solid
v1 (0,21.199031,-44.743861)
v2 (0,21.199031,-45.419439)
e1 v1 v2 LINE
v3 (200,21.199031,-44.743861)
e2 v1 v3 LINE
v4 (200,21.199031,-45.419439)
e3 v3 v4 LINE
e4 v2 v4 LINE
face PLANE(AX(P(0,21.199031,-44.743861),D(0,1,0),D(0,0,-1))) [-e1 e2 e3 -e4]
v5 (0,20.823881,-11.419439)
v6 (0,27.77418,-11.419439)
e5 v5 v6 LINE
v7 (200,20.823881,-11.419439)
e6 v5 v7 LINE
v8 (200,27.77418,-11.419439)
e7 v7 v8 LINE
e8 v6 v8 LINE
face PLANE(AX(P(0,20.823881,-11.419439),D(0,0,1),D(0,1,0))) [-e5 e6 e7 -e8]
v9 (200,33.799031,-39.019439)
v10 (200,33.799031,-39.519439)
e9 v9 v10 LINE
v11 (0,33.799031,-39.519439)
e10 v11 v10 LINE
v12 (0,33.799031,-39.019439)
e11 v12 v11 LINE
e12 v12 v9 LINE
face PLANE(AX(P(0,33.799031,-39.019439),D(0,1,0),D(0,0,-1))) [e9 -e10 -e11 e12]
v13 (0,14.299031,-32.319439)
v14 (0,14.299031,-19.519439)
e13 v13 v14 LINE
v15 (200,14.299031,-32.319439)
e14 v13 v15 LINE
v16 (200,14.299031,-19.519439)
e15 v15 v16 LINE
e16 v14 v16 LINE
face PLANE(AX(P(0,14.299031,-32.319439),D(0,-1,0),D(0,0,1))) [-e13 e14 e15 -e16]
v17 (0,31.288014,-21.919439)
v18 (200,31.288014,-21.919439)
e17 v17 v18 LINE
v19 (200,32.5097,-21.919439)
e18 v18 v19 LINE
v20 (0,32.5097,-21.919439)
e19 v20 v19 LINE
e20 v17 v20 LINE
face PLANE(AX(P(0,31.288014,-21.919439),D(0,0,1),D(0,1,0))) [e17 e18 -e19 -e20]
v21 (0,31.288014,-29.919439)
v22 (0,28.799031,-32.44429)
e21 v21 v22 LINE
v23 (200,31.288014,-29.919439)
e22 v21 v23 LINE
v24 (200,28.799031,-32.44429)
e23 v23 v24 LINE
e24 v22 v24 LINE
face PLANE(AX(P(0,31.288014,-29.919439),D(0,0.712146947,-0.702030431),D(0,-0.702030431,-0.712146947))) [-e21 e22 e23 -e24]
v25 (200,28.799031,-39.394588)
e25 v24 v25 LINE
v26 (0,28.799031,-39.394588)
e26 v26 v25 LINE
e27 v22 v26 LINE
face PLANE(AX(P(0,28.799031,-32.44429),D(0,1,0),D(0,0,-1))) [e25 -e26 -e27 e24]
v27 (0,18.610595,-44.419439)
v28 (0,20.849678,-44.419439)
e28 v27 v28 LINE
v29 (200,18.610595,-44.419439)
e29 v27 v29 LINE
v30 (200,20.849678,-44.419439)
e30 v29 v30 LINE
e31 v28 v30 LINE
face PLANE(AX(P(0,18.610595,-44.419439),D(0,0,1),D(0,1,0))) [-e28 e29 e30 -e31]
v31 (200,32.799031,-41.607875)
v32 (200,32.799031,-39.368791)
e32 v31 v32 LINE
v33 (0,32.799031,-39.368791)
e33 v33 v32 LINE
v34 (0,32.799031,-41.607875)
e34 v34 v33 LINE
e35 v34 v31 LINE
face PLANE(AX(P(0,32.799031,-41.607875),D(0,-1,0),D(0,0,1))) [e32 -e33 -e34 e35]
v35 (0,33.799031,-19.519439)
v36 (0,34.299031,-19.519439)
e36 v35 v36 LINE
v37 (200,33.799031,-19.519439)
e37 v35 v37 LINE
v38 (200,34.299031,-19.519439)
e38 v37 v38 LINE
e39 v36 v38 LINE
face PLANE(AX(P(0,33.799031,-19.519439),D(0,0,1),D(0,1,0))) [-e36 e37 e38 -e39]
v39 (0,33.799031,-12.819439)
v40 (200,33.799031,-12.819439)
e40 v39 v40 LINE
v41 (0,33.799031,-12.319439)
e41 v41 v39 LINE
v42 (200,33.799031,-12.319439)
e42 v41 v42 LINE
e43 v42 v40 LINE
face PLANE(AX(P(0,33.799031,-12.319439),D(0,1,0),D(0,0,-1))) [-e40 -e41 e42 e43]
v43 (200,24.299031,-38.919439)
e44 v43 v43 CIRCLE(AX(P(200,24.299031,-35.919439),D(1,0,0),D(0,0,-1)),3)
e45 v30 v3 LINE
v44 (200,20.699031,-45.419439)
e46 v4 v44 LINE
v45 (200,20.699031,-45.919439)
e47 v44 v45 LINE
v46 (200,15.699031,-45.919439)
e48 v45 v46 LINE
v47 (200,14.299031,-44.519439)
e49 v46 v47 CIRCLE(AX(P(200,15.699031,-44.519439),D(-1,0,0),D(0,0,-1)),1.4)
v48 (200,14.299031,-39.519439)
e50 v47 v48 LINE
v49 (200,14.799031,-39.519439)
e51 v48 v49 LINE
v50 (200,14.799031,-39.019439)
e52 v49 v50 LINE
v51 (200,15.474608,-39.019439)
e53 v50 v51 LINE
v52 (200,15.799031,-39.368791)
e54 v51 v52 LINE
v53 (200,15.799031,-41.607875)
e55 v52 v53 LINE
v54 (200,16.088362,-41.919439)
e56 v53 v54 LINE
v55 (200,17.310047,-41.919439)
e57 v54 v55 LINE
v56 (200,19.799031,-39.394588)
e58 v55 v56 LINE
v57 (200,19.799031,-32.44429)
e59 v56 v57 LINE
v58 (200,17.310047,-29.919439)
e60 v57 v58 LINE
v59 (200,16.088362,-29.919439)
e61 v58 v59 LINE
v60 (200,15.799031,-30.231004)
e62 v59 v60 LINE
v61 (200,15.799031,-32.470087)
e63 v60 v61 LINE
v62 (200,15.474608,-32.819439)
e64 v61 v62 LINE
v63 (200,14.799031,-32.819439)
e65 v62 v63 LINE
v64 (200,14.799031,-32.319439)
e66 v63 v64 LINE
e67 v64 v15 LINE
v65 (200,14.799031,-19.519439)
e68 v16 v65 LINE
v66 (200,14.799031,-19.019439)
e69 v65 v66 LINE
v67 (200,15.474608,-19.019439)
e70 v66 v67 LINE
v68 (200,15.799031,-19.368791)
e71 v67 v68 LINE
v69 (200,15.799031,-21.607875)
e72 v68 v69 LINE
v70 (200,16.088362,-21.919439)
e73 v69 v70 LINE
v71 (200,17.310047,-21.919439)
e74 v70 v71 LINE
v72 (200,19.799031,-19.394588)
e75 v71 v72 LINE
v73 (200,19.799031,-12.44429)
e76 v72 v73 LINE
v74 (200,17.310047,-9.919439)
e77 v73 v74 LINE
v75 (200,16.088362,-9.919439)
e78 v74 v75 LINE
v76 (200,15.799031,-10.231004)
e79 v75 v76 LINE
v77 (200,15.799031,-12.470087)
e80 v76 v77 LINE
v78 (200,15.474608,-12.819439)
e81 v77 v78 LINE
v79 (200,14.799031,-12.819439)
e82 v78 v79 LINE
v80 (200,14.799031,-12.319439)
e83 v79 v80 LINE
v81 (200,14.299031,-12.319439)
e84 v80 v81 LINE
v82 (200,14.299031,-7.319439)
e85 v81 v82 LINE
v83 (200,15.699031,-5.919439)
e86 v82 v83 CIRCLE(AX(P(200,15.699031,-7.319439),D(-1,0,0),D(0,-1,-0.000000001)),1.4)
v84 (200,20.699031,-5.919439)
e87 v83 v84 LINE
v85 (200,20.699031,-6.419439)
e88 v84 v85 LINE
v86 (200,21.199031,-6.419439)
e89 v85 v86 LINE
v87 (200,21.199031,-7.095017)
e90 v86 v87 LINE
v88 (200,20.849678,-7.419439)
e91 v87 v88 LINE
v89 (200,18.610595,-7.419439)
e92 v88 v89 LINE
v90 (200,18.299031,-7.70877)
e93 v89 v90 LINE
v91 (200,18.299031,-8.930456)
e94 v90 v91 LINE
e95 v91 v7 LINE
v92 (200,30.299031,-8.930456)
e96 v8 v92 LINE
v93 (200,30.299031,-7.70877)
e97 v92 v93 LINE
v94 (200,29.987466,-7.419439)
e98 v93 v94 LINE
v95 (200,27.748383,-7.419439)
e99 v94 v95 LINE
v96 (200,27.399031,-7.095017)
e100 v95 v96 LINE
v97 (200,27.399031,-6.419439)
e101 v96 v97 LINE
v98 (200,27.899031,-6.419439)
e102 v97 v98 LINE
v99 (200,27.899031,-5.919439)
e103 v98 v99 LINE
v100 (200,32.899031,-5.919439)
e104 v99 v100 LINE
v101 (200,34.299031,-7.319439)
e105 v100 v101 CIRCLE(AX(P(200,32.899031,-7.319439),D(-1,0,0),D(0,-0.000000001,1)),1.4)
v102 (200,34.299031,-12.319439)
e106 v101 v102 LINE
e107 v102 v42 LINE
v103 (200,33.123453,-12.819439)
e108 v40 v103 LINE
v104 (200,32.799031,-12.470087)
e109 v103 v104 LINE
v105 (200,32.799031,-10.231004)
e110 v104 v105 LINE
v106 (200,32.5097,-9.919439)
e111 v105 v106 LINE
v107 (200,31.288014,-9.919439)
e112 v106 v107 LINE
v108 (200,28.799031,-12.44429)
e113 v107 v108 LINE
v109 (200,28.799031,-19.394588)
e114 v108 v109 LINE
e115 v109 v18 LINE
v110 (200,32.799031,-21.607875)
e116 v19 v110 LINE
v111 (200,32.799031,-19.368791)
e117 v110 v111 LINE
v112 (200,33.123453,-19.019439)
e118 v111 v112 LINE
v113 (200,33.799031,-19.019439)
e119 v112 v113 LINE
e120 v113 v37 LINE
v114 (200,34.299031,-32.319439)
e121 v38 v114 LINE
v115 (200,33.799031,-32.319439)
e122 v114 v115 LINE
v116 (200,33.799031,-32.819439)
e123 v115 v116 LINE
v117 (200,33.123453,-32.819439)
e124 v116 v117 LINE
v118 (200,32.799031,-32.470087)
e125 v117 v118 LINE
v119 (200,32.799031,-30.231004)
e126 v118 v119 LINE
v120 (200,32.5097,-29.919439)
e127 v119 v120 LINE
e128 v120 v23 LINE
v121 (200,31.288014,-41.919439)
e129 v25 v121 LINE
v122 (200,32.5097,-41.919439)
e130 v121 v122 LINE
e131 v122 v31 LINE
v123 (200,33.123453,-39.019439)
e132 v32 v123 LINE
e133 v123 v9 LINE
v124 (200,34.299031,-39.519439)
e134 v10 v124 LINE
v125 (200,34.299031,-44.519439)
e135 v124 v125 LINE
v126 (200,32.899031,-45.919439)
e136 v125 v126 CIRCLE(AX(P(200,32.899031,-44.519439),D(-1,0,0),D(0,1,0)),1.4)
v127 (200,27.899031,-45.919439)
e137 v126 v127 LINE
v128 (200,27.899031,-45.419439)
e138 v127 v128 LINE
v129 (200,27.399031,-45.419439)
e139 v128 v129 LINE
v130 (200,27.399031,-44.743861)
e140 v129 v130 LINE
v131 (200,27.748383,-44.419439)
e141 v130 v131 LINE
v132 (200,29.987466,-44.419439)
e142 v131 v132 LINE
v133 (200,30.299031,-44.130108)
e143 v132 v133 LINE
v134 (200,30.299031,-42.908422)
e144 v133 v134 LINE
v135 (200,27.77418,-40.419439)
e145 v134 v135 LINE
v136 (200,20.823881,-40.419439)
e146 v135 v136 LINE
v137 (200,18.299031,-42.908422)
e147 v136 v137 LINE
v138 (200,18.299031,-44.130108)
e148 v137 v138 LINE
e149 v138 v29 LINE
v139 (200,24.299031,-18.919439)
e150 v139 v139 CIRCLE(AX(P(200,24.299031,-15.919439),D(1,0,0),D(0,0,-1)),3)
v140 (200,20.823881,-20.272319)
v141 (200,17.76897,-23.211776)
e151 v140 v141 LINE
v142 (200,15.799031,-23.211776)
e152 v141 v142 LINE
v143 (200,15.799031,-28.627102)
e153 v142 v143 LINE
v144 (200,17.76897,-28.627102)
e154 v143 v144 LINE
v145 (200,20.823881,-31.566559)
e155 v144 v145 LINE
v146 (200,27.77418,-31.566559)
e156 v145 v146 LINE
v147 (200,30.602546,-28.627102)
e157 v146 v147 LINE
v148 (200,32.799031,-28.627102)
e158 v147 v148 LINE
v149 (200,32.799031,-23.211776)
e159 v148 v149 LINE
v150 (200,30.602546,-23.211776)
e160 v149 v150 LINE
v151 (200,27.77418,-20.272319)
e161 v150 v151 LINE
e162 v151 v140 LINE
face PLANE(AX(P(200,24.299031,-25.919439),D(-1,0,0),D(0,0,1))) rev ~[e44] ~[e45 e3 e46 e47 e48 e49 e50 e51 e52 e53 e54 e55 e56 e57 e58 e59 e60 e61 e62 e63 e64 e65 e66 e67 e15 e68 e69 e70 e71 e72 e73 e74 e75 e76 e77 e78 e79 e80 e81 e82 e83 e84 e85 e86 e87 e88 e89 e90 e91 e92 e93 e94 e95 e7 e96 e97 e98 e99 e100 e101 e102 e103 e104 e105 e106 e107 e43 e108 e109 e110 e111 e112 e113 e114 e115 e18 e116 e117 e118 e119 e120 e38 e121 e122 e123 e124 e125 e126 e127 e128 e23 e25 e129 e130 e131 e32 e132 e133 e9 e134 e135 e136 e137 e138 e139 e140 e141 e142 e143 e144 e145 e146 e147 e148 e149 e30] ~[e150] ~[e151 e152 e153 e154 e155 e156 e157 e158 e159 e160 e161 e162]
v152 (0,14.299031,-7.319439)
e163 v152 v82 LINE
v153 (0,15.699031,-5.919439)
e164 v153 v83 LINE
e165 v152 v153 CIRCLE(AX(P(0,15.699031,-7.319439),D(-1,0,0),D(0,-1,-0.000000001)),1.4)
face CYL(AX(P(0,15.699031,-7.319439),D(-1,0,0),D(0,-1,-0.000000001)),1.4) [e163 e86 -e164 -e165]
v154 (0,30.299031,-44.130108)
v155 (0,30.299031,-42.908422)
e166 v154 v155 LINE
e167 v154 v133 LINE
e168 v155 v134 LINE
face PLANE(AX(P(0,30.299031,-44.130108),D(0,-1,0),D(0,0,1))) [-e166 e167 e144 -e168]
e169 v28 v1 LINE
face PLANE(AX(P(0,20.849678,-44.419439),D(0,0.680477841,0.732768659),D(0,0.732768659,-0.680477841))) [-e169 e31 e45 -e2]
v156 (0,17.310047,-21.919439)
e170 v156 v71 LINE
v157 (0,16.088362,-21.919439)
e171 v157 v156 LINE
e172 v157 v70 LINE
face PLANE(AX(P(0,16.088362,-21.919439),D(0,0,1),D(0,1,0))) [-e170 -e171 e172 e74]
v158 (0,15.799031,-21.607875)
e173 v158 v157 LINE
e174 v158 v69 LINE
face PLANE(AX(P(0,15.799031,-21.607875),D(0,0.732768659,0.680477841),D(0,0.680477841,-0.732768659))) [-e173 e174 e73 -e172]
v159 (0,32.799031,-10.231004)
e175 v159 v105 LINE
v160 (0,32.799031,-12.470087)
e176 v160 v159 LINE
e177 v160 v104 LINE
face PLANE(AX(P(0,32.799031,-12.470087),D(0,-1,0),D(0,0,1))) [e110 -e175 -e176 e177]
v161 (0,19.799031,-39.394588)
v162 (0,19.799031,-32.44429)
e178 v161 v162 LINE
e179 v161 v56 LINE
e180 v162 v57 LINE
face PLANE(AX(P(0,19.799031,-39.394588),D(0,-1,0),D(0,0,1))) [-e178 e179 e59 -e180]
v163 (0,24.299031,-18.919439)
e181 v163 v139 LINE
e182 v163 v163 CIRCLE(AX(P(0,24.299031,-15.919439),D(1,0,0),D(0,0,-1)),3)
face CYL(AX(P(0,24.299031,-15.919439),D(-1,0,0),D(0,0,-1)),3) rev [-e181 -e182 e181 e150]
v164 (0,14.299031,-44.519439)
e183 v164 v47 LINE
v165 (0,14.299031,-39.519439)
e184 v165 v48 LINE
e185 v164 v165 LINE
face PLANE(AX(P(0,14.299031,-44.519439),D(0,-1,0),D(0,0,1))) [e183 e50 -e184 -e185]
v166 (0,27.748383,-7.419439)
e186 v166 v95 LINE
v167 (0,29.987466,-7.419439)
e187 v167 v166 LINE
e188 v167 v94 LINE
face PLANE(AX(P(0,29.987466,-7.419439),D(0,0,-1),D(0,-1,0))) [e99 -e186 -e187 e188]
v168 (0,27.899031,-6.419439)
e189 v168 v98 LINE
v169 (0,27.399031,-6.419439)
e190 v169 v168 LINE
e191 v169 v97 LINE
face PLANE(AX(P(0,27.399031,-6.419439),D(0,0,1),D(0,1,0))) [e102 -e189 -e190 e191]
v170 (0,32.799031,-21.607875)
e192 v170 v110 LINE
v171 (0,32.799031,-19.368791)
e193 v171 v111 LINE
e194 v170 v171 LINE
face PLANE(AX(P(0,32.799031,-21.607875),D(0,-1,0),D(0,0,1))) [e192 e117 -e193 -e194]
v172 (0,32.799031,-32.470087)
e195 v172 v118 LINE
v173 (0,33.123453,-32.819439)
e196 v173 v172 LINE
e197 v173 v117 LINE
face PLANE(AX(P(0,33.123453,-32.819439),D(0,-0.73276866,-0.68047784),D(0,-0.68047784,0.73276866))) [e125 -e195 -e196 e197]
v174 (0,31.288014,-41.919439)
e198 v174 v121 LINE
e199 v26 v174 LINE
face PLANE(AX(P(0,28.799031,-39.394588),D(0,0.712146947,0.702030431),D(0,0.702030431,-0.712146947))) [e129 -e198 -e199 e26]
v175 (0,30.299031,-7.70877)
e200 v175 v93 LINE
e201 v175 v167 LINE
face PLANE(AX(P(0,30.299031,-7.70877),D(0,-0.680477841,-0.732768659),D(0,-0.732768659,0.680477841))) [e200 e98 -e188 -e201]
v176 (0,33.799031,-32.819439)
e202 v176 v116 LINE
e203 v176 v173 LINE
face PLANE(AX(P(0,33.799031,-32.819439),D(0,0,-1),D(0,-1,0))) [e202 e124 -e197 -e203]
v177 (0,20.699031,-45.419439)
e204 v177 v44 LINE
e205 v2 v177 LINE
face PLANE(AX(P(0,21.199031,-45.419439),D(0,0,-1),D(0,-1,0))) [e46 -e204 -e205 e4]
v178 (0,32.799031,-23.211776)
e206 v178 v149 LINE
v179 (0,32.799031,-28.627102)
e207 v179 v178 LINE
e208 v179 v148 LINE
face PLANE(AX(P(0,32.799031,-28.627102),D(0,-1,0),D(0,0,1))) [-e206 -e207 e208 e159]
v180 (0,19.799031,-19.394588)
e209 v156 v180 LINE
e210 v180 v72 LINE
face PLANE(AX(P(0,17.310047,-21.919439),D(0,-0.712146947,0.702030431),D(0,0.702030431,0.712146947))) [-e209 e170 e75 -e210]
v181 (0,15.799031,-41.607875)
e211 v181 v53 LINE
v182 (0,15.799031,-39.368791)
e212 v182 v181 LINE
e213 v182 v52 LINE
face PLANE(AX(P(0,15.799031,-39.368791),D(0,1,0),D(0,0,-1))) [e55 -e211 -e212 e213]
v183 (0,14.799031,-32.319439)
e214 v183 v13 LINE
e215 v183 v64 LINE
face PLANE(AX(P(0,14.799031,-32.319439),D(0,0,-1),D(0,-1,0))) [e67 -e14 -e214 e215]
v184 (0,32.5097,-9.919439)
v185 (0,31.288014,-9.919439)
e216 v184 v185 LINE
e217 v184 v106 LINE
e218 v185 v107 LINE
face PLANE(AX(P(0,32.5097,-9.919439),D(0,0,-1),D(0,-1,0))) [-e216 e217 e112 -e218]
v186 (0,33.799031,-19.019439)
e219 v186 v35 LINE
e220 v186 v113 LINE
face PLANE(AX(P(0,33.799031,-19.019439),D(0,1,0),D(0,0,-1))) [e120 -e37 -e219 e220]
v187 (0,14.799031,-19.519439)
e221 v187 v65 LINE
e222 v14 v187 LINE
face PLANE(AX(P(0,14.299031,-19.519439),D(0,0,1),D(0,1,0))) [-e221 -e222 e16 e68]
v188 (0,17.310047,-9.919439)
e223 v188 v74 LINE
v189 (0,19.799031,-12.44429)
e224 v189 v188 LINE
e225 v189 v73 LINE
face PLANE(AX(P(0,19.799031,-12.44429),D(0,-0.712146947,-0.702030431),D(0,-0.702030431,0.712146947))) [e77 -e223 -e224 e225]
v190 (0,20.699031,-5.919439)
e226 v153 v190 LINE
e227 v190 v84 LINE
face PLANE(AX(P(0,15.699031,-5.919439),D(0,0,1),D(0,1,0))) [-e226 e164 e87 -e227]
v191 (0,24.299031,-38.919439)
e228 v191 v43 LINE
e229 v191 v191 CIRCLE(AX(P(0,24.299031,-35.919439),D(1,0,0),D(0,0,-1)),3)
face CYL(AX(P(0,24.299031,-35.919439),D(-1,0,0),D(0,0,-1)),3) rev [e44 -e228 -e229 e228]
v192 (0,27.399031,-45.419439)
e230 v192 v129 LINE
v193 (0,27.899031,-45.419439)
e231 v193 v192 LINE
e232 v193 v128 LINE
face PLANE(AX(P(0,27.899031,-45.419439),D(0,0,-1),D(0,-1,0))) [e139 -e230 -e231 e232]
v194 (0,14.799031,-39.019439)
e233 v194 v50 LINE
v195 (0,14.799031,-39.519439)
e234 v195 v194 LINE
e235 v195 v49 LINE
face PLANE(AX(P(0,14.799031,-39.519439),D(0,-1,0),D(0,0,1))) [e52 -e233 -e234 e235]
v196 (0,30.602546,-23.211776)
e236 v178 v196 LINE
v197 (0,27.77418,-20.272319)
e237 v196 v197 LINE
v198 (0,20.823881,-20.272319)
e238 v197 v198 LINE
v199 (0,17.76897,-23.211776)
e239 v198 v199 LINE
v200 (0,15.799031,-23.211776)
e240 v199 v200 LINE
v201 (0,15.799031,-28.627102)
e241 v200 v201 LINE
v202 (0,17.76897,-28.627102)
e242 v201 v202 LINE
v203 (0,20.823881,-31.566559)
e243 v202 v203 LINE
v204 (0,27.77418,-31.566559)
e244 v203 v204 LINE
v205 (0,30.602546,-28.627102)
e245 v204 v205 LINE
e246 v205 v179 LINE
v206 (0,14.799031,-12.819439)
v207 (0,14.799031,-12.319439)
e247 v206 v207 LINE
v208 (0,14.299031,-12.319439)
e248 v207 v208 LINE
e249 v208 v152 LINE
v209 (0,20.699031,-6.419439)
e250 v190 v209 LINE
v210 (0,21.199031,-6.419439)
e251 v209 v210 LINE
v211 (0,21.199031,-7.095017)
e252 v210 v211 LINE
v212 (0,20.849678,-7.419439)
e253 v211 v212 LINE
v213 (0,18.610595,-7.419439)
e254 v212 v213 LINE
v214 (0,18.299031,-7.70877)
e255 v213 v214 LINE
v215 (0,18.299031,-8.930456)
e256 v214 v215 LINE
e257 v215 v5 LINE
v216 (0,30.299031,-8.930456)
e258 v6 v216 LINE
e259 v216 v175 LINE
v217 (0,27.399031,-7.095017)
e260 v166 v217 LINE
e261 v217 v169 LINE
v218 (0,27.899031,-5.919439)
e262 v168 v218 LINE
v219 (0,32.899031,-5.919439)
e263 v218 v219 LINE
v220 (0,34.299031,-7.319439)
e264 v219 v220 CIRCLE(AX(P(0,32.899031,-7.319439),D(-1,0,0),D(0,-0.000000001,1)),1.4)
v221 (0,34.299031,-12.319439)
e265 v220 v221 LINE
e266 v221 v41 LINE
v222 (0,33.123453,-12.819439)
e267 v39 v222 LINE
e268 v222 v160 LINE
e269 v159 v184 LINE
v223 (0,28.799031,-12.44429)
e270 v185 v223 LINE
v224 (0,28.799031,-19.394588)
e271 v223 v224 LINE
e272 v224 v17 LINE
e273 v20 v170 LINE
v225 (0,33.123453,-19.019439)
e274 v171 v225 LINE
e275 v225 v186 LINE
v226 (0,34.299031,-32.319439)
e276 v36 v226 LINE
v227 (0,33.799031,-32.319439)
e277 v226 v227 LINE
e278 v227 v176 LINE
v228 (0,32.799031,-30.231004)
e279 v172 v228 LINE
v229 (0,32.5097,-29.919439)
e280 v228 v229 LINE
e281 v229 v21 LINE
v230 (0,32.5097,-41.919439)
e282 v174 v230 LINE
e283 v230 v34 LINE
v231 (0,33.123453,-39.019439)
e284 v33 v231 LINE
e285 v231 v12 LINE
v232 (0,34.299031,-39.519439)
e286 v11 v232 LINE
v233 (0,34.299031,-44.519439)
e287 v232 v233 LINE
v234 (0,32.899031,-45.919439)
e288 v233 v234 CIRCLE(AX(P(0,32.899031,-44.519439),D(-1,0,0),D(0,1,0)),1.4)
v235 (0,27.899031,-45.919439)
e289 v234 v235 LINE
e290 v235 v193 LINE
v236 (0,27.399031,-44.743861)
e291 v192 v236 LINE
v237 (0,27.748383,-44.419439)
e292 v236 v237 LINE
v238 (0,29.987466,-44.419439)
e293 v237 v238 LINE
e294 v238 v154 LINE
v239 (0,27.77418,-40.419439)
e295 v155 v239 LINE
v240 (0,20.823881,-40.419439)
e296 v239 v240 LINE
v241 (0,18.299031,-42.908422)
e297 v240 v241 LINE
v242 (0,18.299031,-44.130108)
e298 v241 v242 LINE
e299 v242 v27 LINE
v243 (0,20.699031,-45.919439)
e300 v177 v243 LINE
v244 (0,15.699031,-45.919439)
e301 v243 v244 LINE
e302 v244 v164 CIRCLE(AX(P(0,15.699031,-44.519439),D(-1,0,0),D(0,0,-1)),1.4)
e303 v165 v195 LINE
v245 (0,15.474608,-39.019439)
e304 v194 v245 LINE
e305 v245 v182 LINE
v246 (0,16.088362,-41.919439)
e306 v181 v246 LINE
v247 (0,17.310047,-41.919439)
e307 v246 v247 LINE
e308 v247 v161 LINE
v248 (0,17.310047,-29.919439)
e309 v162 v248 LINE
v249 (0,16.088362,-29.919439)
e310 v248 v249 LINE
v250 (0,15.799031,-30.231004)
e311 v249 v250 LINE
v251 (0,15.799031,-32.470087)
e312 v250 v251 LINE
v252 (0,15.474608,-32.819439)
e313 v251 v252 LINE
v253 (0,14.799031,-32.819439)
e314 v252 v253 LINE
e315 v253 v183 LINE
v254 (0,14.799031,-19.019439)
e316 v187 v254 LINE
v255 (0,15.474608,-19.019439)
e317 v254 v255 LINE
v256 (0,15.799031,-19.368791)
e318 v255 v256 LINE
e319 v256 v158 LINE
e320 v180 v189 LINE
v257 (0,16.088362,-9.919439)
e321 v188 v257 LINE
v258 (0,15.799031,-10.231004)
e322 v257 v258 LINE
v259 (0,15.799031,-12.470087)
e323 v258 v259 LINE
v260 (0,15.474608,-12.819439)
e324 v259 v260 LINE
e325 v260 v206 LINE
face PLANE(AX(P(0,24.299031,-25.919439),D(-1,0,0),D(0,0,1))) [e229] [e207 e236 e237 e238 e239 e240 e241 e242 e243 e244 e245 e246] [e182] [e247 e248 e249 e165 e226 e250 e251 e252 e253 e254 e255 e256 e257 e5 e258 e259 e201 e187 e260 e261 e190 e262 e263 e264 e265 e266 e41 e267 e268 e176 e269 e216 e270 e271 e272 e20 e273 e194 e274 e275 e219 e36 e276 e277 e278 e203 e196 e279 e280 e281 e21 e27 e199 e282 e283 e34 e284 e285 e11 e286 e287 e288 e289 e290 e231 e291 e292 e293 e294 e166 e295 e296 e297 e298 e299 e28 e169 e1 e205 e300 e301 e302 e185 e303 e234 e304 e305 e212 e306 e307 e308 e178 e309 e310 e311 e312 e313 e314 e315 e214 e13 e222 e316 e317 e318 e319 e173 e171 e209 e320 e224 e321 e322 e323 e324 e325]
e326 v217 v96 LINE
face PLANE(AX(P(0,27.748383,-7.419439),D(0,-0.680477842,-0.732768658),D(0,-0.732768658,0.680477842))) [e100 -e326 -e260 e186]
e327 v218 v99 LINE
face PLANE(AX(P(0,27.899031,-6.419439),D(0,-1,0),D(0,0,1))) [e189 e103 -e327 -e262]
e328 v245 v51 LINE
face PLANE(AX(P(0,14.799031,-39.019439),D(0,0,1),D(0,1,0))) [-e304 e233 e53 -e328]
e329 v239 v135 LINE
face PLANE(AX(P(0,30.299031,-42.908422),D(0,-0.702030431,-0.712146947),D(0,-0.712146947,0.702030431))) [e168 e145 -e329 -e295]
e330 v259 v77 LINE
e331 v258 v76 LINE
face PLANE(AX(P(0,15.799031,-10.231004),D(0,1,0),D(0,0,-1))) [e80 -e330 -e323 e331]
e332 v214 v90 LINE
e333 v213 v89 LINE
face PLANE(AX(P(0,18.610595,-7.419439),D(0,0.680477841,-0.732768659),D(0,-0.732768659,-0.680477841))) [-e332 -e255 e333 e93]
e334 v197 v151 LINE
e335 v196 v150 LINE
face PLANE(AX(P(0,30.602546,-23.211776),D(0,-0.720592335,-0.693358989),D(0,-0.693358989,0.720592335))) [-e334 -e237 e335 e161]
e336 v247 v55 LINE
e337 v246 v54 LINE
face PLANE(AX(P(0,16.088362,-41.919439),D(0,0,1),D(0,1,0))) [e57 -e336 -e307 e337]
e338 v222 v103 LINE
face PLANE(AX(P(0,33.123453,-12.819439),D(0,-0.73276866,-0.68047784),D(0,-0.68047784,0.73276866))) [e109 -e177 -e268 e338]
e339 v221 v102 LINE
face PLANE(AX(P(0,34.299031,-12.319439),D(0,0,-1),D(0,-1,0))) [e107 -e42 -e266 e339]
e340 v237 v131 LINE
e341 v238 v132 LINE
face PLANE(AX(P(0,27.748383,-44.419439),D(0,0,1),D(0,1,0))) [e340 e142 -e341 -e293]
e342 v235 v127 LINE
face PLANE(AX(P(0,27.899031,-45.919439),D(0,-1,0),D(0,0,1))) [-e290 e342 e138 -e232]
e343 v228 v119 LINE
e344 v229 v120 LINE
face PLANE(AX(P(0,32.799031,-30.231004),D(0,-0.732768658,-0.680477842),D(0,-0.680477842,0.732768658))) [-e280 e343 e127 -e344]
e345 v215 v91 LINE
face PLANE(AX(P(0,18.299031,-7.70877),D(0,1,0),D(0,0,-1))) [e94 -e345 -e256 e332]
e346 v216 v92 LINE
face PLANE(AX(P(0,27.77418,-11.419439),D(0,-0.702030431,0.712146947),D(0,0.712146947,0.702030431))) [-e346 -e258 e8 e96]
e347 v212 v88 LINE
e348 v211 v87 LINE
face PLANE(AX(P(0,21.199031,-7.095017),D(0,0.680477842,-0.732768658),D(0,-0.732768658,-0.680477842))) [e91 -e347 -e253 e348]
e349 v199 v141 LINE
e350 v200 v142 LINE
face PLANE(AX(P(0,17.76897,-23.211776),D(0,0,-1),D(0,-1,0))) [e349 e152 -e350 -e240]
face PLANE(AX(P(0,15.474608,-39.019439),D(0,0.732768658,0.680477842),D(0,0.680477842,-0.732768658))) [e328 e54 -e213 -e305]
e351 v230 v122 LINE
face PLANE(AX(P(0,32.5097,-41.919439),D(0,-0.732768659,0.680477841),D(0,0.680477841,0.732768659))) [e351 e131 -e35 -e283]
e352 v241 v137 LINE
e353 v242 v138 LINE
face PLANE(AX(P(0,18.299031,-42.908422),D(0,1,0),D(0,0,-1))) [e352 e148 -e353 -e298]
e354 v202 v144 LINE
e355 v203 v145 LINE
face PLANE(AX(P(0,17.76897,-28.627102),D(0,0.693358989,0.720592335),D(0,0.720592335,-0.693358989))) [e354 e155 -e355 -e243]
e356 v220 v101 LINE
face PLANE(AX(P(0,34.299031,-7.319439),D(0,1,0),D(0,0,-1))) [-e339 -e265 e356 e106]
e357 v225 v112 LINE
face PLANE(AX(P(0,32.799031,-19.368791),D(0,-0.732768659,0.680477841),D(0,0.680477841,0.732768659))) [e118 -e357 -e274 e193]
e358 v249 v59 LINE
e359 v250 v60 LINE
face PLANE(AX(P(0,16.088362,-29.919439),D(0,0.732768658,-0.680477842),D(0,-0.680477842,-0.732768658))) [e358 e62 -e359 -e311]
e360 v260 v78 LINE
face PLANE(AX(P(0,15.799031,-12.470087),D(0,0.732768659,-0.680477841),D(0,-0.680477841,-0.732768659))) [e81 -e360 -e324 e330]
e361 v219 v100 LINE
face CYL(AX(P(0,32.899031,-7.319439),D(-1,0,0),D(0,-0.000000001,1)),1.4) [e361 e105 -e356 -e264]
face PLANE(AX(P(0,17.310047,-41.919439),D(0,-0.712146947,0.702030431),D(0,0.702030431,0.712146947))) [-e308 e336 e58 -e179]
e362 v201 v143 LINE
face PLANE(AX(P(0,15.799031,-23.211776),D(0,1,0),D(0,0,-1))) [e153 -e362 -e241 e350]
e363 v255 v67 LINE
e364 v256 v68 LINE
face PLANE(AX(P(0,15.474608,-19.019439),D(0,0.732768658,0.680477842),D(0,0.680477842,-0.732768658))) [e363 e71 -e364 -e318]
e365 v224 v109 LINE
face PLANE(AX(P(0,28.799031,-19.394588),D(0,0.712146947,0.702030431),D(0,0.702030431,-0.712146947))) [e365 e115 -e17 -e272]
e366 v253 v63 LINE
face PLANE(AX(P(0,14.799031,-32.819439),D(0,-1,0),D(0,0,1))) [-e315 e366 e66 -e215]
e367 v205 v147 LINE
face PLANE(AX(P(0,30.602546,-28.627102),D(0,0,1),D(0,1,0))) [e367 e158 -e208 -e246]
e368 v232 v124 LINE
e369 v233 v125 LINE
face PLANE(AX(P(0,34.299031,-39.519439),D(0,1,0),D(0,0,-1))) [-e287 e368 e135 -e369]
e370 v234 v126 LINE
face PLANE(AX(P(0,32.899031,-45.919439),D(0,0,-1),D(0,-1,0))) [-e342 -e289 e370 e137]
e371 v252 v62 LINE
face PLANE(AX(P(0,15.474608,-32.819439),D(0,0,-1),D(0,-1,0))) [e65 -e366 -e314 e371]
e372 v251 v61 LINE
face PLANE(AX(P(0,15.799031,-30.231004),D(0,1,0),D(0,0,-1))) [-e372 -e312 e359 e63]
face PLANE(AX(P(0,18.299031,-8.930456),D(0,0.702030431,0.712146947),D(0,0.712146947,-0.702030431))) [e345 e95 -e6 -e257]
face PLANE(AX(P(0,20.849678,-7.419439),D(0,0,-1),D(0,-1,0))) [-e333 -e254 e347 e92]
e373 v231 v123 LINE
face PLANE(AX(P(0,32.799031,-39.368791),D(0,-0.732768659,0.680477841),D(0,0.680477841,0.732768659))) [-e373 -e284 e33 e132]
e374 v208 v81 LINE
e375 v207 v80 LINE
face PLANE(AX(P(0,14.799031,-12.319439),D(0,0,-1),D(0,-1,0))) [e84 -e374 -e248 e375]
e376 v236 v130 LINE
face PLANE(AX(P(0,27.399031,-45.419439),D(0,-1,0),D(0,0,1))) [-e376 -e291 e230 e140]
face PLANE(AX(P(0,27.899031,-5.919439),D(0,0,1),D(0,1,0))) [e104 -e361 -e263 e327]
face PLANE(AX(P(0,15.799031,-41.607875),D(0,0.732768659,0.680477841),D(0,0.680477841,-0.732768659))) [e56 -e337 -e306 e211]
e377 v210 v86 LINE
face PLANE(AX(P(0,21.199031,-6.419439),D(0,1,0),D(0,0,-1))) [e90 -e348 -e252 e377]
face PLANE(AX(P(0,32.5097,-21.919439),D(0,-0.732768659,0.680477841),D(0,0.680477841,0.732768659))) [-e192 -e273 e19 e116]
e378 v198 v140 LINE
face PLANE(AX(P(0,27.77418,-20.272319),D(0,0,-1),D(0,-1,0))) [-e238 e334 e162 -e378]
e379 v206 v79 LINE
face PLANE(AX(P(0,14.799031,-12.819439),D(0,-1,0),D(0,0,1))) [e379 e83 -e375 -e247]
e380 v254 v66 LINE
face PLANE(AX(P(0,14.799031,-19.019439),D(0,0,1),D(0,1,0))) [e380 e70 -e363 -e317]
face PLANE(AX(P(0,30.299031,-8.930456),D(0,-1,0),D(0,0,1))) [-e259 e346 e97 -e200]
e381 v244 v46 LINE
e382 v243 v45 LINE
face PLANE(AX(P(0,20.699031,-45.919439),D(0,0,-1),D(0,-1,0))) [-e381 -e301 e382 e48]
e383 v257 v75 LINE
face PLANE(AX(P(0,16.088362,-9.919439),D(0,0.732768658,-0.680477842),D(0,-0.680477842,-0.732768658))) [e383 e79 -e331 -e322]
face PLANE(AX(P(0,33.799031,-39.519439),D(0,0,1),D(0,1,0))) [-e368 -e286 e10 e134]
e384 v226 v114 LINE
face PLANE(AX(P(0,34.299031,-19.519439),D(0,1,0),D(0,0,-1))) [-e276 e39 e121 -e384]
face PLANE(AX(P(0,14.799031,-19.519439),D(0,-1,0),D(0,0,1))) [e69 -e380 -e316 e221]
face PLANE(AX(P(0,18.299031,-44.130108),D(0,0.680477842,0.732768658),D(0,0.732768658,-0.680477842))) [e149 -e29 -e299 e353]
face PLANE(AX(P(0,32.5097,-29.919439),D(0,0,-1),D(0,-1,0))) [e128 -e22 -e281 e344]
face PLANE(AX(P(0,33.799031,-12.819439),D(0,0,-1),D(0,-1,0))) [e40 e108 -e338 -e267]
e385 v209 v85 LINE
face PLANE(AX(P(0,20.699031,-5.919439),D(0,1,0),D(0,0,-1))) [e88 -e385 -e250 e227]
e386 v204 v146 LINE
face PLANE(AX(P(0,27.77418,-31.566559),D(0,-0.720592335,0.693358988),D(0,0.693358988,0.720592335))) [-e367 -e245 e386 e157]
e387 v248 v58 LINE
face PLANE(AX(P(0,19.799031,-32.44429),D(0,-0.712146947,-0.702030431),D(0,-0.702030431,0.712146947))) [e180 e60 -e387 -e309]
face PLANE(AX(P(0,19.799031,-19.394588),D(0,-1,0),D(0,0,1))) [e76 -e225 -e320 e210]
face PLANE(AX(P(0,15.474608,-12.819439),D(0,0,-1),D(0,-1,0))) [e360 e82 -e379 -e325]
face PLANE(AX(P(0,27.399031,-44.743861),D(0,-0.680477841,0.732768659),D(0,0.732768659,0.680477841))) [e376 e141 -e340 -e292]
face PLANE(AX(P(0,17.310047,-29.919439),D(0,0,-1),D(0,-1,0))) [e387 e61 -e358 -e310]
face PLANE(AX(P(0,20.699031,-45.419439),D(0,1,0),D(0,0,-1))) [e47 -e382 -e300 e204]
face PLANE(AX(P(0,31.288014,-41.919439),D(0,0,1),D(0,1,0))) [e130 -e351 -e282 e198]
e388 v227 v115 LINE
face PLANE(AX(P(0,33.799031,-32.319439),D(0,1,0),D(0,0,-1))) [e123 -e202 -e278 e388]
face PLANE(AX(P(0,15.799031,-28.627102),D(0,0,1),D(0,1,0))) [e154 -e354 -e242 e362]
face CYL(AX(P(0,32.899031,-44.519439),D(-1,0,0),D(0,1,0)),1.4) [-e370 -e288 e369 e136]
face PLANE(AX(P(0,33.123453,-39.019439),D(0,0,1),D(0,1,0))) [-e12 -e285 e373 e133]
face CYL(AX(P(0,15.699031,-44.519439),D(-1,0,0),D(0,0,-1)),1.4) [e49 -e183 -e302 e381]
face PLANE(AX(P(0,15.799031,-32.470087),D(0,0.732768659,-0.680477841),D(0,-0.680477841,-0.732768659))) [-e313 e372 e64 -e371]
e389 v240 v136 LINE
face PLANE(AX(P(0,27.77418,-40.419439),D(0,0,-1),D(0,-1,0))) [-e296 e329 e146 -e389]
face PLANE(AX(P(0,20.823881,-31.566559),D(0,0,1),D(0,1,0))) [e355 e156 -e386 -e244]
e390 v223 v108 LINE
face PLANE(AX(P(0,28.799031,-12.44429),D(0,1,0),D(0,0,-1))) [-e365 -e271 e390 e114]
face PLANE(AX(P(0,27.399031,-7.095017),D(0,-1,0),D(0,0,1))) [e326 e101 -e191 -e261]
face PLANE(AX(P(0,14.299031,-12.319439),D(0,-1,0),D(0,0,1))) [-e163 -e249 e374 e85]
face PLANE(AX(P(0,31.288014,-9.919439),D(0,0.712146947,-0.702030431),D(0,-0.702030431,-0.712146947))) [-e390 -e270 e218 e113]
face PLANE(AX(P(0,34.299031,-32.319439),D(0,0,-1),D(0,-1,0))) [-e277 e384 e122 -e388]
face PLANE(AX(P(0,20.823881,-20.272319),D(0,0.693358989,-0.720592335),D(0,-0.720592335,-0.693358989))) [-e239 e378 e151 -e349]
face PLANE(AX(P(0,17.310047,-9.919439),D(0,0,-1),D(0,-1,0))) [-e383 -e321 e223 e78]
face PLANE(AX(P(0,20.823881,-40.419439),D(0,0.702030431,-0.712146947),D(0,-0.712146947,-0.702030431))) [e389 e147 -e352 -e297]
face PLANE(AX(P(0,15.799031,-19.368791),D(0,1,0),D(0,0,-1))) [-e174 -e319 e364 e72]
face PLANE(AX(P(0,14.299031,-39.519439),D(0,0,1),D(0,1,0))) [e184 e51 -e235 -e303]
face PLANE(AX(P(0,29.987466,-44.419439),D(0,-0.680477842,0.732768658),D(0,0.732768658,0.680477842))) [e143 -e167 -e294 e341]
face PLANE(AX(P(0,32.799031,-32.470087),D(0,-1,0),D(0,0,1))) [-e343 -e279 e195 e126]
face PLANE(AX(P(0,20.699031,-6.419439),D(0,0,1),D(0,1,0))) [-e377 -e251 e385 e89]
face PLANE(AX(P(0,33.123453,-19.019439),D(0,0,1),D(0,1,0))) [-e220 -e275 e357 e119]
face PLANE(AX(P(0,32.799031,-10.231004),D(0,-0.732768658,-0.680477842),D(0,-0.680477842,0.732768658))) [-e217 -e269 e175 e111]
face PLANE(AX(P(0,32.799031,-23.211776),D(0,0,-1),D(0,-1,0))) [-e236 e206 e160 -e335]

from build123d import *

# Parameters (mm, degrees)
SKETCH_1_R      = 3
EXTRUDE_1_DEPTH = 200


with BuildPart() as part:
    # Эскиз1 → Бобышка-Вытянуть1 (new body)
    with BuildSketch(Plane(origin=(0, 0, 0), x_dir=(0, 0, -1), z_dir=(1, 0, 0))):
        with BuildLine():
            Line((19.519439061, 34.299030696), (24.519439061, 34.299030696))
            Line((24.519439061, 34.299030696), (27.319439061, 34.299030696))
            Line((27.319439061, 34.299030696), (32.319439061, 34.299030696))
            Line((32.319439061, 34.299030696), (32.319439061, 33.799030696))
            Line((32.319439061, 33.799030696), (32.819439061, 33.799030696))
            Line((32.819439061, 33.799030696), (32.819439061, 33.123453071))
            Line((32.819439061, 33.123453071), (32.470086687, 32.799030696))
            Line((32.470086687, 32.799030696), (30.231003523, 32.799030696))
            Line((30.231003523, 32.799030696), (29.919439061, 32.509699663))
            Line((29.919439061, 32.509699663), (29.919439061, 31.288014106))
            Line((29.919439061, 31.288014106), (32.444289636, 28.799030696))
            Line((32.444289636, 28.799030696), (39.394588486, 28.799030696))
            Line((39.394588486, 28.799030696), (41.919439061, 31.288014106))
            Line((41.919439061, 31.288014106), (41.919439061, 32.509699663))
            Line((41.919439061, 32.509699663), (41.607874598, 32.799030696))
            Line((41.607874598, 32.799030696), (39.368791434, 32.799030696))
            Line((39.368791434, 32.799030696), (39.019439061, 33.123453071))
            Line((39.019439061, 33.123453071), (39.019439061, 33.799030696))
            Line((39.019439061, 33.799030696), (39.519439061, 33.799030696))
            Line((39.519439061, 33.799030696), (39.519439061, 34.299030696))
            Line((39.519439061, 34.299030696), (44.519439061, 34.299030696))
            ThreePointArc((44.519439061, 34.299030696), (45.509388554, 33.88898019), (45.919439061, 32.899030696))
            Line((45.919439061, 32.899030696), (45.919439061, 27.899030696))
            Line((45.919439061, 27.899030696), (45.419439061, 27.899030696))
            Line((45.419439061, 27.899030696), (45.419439061, 27.399030696))
            Line((45.419439061, 27.399030696), (44.743861436, 27.399030696))
            Line((44.743861436, 27.399030696), (44.419439061, 27.748383069))
            Line((44.419439061, 27.748383069), (44.419439061, 29.987466234))
            Line((44.419439061, 29.987466234), (44.130108028, 30.299030696))
            Line((44.130108028, 30.299030696), (42.908422471, 30.299030696))
            Line((42.908422471, 30.299030696), (40.419439061, 27.774180121))
            Line((40.419439061, 27.774180121), (40.419439061, 20.823881271))
            Line((40.419439061, 20.823881271), (42.908422471, 18.299030696))
            Line((42.908422471, 18.299030696), (44.130108028, 18.299030696))
            Line((44.130108028, 18.299030696), (44.419439061, 18.610595158))
            Line((44.419439061, 18.610595158), (44.419439061, 20.849678323))
            Line((44.419439061, 20.849678323), (44.743861436, 21.199030696))
            Line((44.743861436, 21.199030696), (45.419439061, 21.199030696))
            Line((45.419439061, 21.199030696), (45.419439061, 20.699030696))
            Line((45.419439061, 20.699030696), (45.919439061, 20.699030696))
            Line((45.919439061, 20.699030696), (45.919439061, 15.699030696))
            ThreePointArc((45.919439061, 15.699030696), (45.509388554, 14.709081202), (44.519439061, 14.299030696))
            Line((44.519439061, 14.299030696), (39.519439061, 14.299030696))
            Line((39.519439061, 14.299030696), (39.519439061, 14.799030696))
            Line((39.519439061, 14.799030696), (39.019439061, 14.799030696))
            Line((39.019439061, 14.799030696), (39.019439061, 15.47460832))
            Line((39.019439061, 15.47460832), (39.368791434, 15.799030696))
            Line((39.368791434, 15.799030696), (41.607874598, 15.799030696))
            Line((41.607874598, 15.799030696), (41.919439061, 16.088361729))
            Line((41.919439061, 16.088361729), (41.919439061, 17.310047285))
            Line((41.919439061, 17.310047285), (39.394588486, 19.799030696))
            Line((39.394588486, 19.799030696), (32.444289636, 19.799030696))
            Line((32.444289636, 19.799030696), (29.919439061, 17.310047285))
            Line((29.919439061, 17.310047285), (29.919439061, 16.088361729))
            Line((29.919439061, 16.088361729), (30.231003523, 15.799030696))
            Line((30.231003523, 15.799030696), (32.470086687, 15.799030696))
            Line((32.470086687, 15.799030696), (32.819439061, 15.47460832))
            Line((32.819439061, 15.47460832), (32.819439061, 14.799030696))
            Line((32.819439061, 14.799030696), (32.319439061, 14.799030696))
            Line((32.319439061, 14.799030696), (32.319439061, 14.299030696))
            Line((32.319439061, 14.299030696), (27.319439061, 14.299030696))
            Line((27.319439061, 14.299030696), (24.519439061, 14.299030696))
            Line((24.519439061, 14.299030696), (19.519439061, 14.299030696))
            Line((19.519439061, 14.299030696), (19.519439061, 14.799030696))
            Line((19.519439061, 14.799030696), (19.019439061, 14.799030696))
            Line((19.019439061, 14.799030696), (19.019439061, 15.47460832))
            Line((19.019439061, 15.47460832), (19.368791434, 15.799030696))
            Line((19.368791434, 15.799030696), (21.607874598, 15.799030696))
            Line((21.607874598, 15.799030696), (21.919439061, 16.088361729))
            Line((21.919439061, 16.088361729), (21.919439061, 17.310047285))
            Line((21.919439061, 17.310047285), (19.394588486, 19.799030696))
            Line((19.394588486, 19.799030696), (12.444289636, 19.799030696))
            Line((12.444289636, 19.799030696), (9.919439061, 17.310047285))
            Line((9.919439061, 17.310047285), (9.919439061, 16.088361729))
            Line((9.919439061, 16.088361729), (10.231003523, 15.799030696))
            Line((10.231003523, 15.799030696), (12.470086687, 15.799030696))
            Line((12.470086687, 15.799030696), (12.819439061, 15.47460832))
            Line((12.819439061, 15.47460832), (12.819439061, 14.799030696))
            Line((12.819439061, 14.799030696), (12.319439061, 14.799030696))
            Line((12.319439061, 14.799030696), (12.319439061, 14.299030696))
            Line((12.319439061, 14.299030696), (7.319439061, 14.299030696))
            ThreePointArc((7.319439061, 14.299030696), (6.329489567, 14.709081202), (5.919439061, 15.699030696))
            Line((5.919439061, 15.699030696), (5.919439061, 20.699030696))
            Line((5.919439061, 20.699030696), (6.419439061, 20.699030696))
            Line((6.419439061, 20.699030696), (6.419439061, 21.199030696))
            Line((6.419439061, 21.199030696), (7.095016685, 21.199030696))
            Line((7.095016685, 21.199030696), (7.419439061, 20.849678323))
            Line((7.419439061, 20.849678323), (7.419439061, 18.610595158))
            Line((7.419439061, 18.610595158), (7.708770093, 18.299030696))
            Line((7.708770093, 18.299030696), (8.93045565, 18.299030696))
            Line((8.93045565, 18.299030696), (11.419439061, 20.823881271))
            Line((11.419439061, 20.823881271), (11.419439061, 27.774180121))
            Line((11.419439061, 27.774180121), (8.93045565, 30.299030696))
            Line((8.93045565, 30.299030696), (7.708770093, 30.299030696))
            Line((7.708770093, 30.299030696), (7.419439061, 29.987466234))
            Line((7.419439061, 29.987466234), (7.419439061, 27.748383069))
            Line((7.419439061, 27.748383069), (7.095016685, 27.399030696))
            Line((7.095016685, 27.399030696), (6.419439061, 27.399030696))
            Line((6.419439061, 27.399030696), (6.419439061, 27.899030696))
            Line((6.419439061, 27.899030696), (5.919439061, 27.899030696))
            Line((5.919439061, 27.899030696), (5.919439061, 32.899030696))
            ThreePointArc((5.919439061, 32.899030696), (6.329489567, 33.88898019), (7.319439061, 34.299030696))
            Line((7.319439061, 34.299030696), (12.319439061, 34.299030696))
            Line((12.319439061, 34.299030696), (12.319439061, 33.799030696))
            Line((12.319439061, 33.799030696), (12.819439061, 33.799030696))
            Line((12.819439061, 33.799030696), (12.819439061, 33.123453071))
            Line((12.819439061, 33.123453071), (12.470086687, 32.799030696))
            Line((12.470086687, 32.799030696), (10.231003523, 32.799030696))
            Line((10.231003523, 32.799030696), (9.919439061, 32.509699663))
            Line((9.919439061, 32.509699663), (9.919439061, 31.288014106))
            Line((9.919439061, 31.288014106), (12.444289636, 28.799030696))
            Line((12.444289636, 28.799030696), (19.394588486, 28.799030696))
            Line((19.394588486, 28.799030696), (21.919439061, 31.288014106))
            Line((21.919439061, 31.288014106), (21.919439061, 32.509699663))
            Line((21.919439061, 32.509699663), (21.607874598, 32.799030696))
            Line((21.607874598, 32.799030696), (19.368791434, 32.799030696))
            Line((19.368791434, 32.799030696), (19.019439061, 33.123453071))
            Line((19.019439061, 33.123453071), (19.019439061, 33.799030696))
            Line((19.019439061, 33.799030696), (19.519439061, 33.799030696))
            Line((19.519439061, 33.799030696), (19.519439061, 34.299030696))
        make_face()
        with Locations((15.919439061, 24.299030696)):
            Circle(SKETCH_1_R, mode=Mode.SUBTRACT)
        with Locations((35.919439061, 24.299030696)):
            Circle(SKETCH_1_R, mode=Mode.SUBTRACT)
        Polygon((28.627102151, 32.799030696), (23.21177597, 32.799030696), (23.21177597, 30.602545824), (20.272319384, 27.774180121), (20.272319384, 20.823881271), (23.21177597, 17.768970439), (23.21177597, 15.799030696), (28.627102151, 15.799030696), (28.627102151, 17.768970439), (31.566558738, 20.823881271), (31.566558738, 27.774180121), (28.627102151, 30.602545824), align=None, mode=Mode.SUBTRACT)
    extrude(amount=EXTRUDE_1_DEPTH)


solid = part.part
